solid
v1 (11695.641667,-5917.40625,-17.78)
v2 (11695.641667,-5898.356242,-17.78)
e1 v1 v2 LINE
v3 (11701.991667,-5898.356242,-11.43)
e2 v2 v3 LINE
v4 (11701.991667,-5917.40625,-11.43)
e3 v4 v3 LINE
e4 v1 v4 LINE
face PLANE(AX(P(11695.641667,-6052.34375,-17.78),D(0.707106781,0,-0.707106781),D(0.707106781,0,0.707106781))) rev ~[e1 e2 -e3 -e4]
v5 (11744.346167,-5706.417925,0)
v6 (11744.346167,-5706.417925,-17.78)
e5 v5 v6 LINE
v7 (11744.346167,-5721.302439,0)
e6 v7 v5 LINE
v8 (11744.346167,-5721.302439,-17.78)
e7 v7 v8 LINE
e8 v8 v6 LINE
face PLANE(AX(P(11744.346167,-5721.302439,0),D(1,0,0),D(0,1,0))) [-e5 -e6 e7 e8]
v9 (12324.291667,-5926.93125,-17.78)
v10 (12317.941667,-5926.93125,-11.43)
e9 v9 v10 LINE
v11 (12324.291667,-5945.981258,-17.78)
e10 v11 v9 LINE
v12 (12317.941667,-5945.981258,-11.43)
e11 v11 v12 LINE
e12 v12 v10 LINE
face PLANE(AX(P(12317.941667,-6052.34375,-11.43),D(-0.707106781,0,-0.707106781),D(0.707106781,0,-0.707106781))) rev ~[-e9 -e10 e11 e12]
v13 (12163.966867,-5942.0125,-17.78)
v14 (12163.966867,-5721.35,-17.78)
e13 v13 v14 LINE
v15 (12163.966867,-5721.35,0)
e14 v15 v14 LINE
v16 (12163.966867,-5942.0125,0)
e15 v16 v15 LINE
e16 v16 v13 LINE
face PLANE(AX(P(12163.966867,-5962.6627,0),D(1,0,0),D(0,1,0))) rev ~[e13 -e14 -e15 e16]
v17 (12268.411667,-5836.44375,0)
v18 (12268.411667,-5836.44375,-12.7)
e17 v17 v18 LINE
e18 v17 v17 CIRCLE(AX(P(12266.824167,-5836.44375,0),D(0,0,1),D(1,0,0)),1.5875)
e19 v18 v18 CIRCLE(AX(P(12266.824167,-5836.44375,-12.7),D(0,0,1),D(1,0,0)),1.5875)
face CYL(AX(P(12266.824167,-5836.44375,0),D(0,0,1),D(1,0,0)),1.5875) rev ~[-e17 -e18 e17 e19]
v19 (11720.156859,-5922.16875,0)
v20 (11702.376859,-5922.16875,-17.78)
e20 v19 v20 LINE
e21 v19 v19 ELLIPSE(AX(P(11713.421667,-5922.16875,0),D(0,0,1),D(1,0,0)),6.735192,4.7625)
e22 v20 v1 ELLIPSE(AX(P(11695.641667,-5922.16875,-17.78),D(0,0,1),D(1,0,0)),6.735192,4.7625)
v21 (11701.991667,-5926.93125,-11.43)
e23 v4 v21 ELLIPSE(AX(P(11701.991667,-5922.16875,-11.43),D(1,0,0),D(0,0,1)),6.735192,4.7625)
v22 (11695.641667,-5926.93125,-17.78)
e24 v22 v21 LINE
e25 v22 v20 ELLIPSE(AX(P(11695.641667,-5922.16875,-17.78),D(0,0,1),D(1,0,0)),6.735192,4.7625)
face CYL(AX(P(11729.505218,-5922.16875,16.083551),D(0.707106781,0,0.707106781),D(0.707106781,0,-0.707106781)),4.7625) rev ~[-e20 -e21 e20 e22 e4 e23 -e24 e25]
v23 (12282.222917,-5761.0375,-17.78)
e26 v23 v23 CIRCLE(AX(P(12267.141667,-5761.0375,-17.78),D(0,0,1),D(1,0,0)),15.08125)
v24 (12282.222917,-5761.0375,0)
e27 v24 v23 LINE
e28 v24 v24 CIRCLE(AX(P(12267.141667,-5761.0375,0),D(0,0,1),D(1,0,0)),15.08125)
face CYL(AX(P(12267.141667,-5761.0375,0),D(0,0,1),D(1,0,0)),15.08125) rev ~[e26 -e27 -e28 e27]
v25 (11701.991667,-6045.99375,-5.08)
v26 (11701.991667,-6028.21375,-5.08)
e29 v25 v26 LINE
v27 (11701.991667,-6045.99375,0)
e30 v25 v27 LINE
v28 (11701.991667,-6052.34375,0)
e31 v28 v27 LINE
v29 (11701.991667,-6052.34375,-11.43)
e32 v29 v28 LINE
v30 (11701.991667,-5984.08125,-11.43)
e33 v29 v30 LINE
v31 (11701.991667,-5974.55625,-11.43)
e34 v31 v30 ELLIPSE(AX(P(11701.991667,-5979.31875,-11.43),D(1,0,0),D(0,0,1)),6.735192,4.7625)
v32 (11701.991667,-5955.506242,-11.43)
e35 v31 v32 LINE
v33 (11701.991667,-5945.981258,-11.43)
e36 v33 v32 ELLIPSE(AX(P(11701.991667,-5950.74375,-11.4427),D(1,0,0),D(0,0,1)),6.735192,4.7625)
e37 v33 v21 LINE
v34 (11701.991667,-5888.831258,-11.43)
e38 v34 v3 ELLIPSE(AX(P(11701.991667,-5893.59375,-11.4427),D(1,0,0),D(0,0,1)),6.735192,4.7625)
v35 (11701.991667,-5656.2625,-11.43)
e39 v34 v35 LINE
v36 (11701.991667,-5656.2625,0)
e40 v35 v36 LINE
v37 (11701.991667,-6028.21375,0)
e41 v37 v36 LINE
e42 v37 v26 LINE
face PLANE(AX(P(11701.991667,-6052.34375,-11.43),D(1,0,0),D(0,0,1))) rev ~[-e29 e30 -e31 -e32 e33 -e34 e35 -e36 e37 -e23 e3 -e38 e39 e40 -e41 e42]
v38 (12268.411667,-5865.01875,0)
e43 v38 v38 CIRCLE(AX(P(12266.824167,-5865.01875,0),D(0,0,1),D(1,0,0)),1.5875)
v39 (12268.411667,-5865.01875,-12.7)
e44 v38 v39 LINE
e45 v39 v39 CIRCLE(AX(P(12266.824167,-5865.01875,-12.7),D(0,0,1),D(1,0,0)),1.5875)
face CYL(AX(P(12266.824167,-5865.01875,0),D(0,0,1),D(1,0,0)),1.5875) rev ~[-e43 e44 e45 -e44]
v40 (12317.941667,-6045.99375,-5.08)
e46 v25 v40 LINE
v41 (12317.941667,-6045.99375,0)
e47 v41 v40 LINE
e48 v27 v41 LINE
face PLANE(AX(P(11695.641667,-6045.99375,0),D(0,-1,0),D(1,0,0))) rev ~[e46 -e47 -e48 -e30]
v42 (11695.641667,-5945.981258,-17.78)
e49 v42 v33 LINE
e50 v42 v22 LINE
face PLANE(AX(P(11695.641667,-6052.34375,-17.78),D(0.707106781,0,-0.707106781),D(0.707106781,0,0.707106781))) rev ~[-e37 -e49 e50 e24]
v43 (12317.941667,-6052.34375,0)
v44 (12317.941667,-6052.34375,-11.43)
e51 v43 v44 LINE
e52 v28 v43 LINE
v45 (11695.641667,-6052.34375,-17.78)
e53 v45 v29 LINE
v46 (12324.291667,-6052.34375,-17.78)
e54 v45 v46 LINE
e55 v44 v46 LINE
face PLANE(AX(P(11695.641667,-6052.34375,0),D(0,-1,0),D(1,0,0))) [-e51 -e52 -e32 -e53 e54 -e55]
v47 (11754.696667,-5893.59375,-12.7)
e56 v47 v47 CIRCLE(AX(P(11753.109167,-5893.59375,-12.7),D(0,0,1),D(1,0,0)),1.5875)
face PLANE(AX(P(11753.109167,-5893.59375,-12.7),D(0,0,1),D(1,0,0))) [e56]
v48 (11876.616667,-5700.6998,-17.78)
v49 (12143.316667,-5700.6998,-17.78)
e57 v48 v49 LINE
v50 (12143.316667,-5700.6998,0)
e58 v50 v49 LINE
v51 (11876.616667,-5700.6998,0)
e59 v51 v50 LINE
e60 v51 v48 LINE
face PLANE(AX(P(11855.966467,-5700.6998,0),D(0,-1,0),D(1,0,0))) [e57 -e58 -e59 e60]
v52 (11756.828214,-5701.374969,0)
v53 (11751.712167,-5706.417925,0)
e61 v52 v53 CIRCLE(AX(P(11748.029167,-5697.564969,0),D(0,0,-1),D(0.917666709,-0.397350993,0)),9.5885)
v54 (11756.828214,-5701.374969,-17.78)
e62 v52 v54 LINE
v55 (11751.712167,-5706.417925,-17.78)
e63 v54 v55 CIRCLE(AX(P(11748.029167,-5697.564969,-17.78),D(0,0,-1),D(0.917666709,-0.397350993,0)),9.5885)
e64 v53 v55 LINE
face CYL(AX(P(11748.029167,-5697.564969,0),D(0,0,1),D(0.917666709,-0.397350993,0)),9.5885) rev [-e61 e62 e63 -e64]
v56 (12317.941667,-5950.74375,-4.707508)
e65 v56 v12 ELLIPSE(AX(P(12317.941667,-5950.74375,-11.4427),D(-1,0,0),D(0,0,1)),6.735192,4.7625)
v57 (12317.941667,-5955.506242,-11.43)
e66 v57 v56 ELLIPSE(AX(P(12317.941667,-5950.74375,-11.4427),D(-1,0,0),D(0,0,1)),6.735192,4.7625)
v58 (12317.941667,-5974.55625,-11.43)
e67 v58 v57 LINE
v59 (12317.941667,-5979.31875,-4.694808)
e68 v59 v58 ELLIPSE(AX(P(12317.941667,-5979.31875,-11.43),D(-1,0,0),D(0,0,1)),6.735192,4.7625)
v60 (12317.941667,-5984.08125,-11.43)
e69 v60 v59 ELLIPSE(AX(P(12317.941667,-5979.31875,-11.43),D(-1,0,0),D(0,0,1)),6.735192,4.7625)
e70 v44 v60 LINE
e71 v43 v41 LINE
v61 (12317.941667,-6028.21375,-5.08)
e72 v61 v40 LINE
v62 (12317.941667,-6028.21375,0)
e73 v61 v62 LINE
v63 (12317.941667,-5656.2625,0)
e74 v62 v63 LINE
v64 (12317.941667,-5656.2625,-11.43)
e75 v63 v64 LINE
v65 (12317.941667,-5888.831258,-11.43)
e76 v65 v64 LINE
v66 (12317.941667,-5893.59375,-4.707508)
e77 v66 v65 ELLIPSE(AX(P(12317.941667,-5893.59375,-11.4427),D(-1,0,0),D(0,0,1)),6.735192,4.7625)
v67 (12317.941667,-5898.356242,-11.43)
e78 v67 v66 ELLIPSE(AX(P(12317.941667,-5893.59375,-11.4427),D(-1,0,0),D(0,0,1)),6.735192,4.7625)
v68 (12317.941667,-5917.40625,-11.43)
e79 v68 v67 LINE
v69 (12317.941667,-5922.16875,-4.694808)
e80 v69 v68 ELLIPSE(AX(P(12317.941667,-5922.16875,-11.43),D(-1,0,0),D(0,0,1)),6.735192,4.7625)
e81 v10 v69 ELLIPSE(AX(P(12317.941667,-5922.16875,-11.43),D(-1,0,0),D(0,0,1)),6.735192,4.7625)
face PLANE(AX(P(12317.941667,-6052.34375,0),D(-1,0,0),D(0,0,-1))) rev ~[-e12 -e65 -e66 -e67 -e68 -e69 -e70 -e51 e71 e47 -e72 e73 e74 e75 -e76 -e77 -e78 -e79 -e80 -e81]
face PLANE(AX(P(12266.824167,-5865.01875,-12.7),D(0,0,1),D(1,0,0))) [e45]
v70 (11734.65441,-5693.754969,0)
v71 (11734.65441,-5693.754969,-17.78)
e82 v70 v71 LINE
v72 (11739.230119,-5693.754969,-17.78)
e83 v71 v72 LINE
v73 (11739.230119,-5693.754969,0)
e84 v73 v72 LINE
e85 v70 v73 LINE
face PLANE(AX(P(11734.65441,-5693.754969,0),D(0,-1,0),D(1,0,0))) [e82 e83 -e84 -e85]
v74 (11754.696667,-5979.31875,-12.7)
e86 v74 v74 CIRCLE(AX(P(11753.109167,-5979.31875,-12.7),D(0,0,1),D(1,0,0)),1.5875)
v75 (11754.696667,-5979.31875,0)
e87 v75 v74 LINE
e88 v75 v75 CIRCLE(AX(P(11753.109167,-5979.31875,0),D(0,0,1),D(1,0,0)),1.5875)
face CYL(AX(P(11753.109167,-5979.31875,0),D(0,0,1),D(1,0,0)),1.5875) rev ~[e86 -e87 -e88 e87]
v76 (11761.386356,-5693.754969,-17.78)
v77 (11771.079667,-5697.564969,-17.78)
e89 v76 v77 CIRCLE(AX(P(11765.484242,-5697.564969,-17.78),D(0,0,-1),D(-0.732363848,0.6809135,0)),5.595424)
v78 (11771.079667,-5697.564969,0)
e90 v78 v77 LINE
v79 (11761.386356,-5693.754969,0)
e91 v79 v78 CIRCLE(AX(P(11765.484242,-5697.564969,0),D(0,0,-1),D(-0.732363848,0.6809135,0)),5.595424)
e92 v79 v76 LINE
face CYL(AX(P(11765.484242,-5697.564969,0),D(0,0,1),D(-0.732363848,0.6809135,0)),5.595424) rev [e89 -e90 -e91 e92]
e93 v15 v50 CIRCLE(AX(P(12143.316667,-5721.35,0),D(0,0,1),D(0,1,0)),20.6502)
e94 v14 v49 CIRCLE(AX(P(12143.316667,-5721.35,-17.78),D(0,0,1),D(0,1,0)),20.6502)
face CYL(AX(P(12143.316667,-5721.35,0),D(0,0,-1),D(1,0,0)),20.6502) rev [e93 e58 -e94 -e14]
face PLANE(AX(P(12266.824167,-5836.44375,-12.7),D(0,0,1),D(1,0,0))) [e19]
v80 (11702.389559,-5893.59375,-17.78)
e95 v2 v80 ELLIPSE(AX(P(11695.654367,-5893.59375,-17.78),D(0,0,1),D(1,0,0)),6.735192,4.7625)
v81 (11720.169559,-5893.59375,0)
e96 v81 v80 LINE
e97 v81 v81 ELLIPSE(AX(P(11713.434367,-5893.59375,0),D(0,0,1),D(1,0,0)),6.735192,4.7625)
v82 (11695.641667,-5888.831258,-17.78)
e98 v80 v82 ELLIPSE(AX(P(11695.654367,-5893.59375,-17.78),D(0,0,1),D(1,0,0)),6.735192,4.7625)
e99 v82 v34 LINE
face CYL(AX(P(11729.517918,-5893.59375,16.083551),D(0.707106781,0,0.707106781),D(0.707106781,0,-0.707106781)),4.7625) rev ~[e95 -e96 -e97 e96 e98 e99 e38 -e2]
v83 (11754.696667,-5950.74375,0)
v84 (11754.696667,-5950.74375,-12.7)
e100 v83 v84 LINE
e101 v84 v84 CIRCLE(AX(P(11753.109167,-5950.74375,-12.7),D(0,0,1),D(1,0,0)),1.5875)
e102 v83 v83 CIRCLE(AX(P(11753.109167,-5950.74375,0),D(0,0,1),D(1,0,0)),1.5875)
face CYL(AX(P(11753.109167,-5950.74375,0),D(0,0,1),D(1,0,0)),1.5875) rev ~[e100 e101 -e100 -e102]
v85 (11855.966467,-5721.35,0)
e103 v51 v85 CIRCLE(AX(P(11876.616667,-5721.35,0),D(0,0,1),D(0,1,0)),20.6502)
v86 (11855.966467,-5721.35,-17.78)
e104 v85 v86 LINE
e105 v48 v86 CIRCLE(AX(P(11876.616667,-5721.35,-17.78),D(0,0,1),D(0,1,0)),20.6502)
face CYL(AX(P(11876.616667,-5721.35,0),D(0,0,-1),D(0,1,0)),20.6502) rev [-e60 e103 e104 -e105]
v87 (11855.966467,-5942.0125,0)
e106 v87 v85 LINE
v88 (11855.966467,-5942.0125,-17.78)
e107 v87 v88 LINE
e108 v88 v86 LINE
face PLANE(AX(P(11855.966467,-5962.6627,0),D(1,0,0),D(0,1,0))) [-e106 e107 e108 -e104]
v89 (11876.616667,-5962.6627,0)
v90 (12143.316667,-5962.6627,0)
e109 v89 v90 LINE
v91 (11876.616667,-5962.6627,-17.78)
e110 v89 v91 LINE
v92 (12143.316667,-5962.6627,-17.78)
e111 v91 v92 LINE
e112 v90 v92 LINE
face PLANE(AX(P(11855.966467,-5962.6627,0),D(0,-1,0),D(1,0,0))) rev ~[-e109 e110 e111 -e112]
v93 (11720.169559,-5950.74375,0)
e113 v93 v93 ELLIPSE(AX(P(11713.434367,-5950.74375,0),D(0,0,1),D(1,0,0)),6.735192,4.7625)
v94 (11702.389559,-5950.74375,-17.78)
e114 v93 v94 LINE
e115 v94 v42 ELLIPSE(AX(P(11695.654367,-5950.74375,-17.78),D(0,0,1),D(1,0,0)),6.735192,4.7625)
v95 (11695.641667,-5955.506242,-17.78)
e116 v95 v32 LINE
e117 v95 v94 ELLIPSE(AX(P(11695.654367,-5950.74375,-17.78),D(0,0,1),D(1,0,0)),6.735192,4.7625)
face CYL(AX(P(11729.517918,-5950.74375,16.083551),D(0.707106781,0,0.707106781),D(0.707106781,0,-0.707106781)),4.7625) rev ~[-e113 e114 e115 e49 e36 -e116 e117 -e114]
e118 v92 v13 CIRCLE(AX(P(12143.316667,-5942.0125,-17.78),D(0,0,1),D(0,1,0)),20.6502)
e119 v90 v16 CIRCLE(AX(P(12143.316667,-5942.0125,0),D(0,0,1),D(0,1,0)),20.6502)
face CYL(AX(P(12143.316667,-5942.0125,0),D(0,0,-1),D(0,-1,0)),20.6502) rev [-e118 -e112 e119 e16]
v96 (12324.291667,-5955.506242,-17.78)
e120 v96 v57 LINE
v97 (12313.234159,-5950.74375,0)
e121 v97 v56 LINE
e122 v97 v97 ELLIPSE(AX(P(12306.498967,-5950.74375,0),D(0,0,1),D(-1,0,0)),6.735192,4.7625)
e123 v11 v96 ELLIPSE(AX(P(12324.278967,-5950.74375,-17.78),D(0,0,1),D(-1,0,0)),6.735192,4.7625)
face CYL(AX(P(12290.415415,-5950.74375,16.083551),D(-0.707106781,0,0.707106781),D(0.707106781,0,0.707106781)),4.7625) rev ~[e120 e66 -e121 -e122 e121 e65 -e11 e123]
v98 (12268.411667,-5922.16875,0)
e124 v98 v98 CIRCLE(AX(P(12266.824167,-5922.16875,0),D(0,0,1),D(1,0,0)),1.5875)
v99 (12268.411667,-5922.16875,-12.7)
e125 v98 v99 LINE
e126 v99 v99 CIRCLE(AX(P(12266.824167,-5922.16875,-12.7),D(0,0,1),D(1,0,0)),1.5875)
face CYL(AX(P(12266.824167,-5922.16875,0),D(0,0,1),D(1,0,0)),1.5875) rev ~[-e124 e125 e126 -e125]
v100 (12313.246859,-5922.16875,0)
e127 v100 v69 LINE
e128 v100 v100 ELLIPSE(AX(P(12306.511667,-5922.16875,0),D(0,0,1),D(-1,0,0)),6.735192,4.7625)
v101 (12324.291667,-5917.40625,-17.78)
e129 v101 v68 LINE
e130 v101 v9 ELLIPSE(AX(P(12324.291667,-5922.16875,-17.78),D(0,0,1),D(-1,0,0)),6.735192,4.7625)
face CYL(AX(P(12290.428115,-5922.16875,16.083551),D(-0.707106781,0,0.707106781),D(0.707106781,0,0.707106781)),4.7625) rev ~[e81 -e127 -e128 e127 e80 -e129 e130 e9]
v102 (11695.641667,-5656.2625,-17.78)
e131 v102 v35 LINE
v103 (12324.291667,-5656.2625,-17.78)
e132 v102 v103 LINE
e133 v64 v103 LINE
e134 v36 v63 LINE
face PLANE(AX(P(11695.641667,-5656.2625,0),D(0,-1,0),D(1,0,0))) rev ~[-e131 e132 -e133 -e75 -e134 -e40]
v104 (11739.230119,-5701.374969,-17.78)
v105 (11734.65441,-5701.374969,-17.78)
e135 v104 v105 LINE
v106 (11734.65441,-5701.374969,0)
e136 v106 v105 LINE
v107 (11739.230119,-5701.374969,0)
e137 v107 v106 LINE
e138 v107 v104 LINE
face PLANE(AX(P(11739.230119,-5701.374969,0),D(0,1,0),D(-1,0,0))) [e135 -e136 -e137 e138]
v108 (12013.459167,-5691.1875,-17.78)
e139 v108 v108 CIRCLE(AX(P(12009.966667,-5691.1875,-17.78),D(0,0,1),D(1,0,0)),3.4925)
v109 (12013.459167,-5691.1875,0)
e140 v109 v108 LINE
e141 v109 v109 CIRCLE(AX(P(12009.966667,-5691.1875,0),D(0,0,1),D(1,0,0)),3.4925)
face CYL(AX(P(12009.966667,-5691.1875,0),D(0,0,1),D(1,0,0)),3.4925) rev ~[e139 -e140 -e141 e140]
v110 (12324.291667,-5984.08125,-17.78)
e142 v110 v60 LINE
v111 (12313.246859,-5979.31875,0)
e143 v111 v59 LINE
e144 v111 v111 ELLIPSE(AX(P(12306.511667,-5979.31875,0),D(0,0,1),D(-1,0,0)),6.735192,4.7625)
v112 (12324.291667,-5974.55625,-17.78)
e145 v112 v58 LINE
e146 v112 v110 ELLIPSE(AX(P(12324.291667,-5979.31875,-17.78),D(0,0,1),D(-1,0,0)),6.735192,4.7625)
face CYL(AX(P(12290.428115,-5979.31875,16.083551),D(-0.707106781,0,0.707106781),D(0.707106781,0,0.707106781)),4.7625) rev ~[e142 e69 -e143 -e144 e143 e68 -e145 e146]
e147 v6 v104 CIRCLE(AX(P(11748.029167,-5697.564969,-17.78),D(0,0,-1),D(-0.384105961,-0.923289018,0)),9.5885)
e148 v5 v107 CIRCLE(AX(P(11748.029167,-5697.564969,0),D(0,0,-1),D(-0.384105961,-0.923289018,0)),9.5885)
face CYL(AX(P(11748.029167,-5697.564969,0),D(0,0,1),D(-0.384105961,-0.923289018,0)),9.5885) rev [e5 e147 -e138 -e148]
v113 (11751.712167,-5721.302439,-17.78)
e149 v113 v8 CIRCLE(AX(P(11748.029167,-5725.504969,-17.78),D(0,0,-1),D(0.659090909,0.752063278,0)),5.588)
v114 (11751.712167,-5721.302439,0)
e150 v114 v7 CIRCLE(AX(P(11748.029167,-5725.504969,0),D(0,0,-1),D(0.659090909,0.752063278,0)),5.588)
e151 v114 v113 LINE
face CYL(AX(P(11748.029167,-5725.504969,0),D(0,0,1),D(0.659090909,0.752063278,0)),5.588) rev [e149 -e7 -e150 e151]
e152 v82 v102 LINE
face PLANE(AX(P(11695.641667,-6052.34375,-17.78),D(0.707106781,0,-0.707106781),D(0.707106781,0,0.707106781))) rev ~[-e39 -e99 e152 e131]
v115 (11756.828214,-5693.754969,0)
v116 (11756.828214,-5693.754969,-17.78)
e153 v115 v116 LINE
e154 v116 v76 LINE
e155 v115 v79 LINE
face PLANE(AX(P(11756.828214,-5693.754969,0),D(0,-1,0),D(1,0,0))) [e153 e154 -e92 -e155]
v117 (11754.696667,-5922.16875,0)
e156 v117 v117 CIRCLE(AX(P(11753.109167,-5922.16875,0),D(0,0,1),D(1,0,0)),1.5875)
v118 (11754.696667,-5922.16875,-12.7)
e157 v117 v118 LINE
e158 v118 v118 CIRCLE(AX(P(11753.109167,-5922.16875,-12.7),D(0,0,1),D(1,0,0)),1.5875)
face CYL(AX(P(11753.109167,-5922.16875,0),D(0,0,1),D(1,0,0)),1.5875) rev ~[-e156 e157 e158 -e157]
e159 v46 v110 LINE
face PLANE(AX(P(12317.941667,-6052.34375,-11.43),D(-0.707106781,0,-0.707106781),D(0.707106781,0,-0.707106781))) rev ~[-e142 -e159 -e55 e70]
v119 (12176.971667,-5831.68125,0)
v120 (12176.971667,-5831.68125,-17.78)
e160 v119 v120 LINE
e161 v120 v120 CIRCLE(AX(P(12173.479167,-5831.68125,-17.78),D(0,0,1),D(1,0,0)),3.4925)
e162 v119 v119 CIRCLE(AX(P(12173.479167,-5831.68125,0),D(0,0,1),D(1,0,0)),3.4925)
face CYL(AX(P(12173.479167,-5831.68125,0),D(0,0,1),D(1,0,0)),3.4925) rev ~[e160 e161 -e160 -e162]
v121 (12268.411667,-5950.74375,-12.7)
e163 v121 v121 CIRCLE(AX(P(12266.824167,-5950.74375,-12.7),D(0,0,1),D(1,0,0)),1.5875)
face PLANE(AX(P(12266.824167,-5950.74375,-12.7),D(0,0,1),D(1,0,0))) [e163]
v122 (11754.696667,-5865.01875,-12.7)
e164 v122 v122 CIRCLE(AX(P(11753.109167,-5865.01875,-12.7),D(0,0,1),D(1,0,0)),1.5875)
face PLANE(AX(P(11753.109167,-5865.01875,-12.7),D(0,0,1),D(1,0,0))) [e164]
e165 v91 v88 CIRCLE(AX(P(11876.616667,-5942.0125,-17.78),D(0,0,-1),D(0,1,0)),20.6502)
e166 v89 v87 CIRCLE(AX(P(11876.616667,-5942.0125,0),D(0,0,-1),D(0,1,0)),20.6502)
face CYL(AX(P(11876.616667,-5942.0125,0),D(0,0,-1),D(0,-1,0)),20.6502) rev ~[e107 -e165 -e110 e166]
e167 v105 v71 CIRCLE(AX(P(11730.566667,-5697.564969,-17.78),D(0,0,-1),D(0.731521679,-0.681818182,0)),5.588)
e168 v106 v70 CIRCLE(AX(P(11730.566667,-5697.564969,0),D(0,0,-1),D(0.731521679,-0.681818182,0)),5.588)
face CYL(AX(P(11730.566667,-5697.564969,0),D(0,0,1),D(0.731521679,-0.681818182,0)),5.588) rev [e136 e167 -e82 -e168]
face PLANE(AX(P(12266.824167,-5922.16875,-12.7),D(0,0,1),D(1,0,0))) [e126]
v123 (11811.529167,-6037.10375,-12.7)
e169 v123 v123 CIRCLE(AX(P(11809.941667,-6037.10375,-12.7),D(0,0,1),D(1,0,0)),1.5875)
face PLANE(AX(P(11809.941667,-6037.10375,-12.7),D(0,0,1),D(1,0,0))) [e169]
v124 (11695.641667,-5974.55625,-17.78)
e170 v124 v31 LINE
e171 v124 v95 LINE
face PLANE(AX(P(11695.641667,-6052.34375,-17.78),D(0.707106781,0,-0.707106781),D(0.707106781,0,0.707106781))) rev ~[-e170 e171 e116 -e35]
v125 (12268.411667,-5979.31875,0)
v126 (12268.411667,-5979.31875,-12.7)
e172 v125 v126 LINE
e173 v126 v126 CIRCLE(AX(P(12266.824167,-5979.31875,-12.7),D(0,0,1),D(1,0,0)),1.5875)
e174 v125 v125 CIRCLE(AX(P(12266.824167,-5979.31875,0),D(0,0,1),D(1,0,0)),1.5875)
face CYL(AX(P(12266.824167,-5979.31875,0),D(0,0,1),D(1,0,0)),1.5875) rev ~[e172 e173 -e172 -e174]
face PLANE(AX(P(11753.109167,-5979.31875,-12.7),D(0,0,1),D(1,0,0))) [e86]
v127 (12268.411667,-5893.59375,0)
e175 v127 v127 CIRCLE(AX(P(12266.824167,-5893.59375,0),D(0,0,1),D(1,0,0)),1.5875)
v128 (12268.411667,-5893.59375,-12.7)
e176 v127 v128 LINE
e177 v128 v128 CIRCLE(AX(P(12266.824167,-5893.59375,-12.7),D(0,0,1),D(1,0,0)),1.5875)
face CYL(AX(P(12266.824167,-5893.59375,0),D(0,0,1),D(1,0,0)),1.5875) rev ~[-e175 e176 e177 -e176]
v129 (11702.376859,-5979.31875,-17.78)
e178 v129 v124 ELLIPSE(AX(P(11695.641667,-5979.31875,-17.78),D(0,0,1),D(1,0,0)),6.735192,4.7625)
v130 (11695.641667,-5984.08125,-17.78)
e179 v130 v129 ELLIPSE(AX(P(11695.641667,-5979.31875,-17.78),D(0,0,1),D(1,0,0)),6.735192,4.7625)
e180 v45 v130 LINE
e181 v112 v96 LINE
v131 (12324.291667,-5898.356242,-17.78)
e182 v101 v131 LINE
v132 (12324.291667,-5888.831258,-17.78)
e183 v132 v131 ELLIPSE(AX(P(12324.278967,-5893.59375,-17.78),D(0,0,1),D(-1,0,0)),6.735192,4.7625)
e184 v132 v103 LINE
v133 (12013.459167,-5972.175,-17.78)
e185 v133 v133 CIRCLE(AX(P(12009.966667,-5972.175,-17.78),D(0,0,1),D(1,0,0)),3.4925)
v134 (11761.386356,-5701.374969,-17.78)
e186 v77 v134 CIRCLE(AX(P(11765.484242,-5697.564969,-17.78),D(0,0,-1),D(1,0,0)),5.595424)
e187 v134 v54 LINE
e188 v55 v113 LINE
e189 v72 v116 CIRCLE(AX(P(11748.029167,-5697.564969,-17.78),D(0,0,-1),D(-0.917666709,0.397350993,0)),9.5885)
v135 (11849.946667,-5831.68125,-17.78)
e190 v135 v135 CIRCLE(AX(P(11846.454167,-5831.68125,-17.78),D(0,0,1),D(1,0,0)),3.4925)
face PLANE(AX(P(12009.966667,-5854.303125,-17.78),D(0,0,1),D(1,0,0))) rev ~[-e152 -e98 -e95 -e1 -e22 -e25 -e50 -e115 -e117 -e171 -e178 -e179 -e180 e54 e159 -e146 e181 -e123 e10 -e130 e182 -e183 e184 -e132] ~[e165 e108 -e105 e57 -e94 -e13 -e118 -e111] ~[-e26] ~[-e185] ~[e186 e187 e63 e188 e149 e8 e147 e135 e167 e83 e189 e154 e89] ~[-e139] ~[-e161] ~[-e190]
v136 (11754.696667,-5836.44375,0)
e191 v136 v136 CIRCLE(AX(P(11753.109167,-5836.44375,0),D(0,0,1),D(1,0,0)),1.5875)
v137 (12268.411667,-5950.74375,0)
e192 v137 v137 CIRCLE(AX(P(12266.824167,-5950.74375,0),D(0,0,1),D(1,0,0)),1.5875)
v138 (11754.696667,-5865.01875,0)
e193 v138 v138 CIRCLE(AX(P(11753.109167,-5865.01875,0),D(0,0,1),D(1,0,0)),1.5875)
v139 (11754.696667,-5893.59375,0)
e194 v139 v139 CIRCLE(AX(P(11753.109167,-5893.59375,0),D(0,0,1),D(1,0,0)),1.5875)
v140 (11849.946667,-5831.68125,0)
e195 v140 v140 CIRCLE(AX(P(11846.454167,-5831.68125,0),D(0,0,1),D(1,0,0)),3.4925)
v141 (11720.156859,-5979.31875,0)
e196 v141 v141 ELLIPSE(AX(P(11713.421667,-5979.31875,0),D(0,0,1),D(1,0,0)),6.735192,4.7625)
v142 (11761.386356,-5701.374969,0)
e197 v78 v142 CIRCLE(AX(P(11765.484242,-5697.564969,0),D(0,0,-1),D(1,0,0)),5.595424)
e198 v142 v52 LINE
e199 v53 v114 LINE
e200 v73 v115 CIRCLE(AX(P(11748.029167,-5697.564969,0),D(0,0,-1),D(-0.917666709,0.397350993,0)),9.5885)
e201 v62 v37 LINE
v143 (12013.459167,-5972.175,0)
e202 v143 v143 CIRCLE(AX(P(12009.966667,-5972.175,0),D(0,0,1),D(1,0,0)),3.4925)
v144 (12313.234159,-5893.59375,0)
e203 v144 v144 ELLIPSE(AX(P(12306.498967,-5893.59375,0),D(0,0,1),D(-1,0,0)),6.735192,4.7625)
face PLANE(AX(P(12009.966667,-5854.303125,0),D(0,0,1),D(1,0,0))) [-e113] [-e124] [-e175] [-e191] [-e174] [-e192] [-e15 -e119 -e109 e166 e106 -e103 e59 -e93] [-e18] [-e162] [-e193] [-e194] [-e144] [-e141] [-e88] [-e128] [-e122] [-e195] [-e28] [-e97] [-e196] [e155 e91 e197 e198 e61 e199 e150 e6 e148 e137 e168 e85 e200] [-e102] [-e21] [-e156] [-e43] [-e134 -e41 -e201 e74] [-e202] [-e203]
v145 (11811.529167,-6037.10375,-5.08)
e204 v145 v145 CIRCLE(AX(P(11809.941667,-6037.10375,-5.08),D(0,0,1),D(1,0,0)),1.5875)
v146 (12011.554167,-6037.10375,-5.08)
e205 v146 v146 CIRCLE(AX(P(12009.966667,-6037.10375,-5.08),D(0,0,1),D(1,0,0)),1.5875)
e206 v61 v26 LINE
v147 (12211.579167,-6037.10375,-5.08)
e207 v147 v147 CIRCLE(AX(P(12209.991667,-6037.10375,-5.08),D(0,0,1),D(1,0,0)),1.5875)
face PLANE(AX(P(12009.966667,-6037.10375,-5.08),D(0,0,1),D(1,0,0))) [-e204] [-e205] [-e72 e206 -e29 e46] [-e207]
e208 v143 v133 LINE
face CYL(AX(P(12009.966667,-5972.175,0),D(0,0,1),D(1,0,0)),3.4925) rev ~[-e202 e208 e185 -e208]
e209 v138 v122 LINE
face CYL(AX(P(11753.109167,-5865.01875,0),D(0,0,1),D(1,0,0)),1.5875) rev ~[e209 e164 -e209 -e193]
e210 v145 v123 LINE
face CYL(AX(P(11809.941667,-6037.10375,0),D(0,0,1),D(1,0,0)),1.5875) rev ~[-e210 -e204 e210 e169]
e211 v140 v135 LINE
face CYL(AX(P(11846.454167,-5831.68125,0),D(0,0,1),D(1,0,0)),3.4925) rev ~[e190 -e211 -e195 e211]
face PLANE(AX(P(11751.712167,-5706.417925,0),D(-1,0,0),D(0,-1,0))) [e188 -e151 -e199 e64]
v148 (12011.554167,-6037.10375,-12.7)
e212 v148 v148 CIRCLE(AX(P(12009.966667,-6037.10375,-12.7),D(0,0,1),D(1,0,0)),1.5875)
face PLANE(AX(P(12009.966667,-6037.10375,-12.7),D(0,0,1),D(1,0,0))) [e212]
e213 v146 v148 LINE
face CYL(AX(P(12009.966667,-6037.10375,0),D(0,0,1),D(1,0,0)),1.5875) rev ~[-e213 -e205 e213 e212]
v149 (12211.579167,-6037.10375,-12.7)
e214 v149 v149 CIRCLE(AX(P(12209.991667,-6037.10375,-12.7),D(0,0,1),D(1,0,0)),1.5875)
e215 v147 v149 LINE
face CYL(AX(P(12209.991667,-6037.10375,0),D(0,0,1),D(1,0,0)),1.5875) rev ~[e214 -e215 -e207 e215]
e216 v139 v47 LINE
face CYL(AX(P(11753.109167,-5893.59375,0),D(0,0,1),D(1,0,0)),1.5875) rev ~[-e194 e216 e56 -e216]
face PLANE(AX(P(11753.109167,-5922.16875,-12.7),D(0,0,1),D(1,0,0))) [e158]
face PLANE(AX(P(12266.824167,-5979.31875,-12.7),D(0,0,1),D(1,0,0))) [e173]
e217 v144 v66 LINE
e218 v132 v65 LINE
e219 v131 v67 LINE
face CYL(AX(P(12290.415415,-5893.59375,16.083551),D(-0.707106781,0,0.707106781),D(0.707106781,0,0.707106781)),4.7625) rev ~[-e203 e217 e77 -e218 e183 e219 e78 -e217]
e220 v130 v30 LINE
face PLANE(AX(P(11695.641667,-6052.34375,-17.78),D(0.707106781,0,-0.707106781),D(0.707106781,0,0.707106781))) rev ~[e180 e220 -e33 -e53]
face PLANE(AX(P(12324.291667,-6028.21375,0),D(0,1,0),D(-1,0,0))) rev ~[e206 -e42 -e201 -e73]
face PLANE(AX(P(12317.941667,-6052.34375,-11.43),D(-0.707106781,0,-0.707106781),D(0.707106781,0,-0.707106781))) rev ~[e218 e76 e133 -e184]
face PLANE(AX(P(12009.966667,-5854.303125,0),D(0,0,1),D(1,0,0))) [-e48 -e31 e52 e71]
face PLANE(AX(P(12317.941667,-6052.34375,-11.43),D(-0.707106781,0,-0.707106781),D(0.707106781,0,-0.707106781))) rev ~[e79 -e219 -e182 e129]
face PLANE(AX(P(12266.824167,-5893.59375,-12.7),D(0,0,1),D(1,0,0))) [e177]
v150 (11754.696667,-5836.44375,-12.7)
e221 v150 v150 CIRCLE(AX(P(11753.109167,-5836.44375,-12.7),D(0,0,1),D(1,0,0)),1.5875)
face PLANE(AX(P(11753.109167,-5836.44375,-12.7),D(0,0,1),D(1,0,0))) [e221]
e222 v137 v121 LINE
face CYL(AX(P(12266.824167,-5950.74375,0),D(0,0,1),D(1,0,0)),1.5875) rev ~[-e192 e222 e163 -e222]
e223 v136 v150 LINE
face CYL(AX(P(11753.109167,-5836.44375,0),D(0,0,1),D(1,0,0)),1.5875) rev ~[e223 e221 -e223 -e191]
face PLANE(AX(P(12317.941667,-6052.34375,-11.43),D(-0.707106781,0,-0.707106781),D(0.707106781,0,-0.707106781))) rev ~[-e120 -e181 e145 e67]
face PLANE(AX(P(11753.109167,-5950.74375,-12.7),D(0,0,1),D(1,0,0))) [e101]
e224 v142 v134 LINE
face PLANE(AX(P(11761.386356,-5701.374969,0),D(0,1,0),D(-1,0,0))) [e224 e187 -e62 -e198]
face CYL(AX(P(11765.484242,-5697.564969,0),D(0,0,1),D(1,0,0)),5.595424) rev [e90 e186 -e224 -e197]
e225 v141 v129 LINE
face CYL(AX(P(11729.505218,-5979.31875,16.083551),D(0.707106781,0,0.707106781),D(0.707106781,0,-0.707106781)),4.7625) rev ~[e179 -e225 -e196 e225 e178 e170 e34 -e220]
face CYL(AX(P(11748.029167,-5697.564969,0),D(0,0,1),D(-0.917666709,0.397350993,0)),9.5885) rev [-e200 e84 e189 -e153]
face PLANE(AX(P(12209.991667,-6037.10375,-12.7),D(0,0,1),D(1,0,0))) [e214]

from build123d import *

# Parameters (mm, degrees)
CABFRONTOUTLINE_W               = 628.65
CABFRONTOUTLINE_H               = 396.08125
CABFRONT_THICKNESS_DEPTH        = 17.78
CABFRONT_COINDOORCUTS_R         = 1.5875
CUT_EXTRUDE1_DEPTH              = 12.7
SKETCH5_R                       = 15.08125
SKETCH5_R_2                     = 3.4925
SKETCH5_W                       = 308.0004
SKETCH5_H                       = 261.9629
CUT_EXTRUDE8_DEPTH              = 17.78
CABFRONTBOTTOMLEDGE_DEPTH_DEPTH = 5.08
CUT_EXTRUDE4_DEPTH              = 396.08125
FILLET1_R                       = 20.6502
SKETCH2_R                       = 4.7625
CUT_EXTRUDE5_DEPTH              = 76.2
SKETCH3_R                       = 4.7625
CUT_EXTRUDE6_DEPTH              = 76.2
SKETCH4_R                       = 4.7625
CUT_EXTRUDE7_DEPTH              = 76.2
SKETCH6_R                       = 4.7625
CUT_EXTRUDE9_DEPTH              = 76.2


with BuildPart() as part:
    # CabFrontOutline → CabFront_Thickness (new body)
    with BuildSketch(Plane.XY):
        with Locations((12009.966666666, -5854.303125)):
            Rectangle(CABFRONTOUTLINE_W, CABFRONTOUTLINE_H)
    extrude(amount=-CABFRONT_THICKNESS_DEPTH)

    # CabFront_CoinDoorCuts → Cut-Extrude1 (cut)
    with BuildSketch(Plane.XY):
        with Locations((11753.109166666, -5893.59375)):
            Circle(CABFRONT_COINDOORCUTS_R)
        with Locations((11753.109166666, -5950.74375)):
            Circle(CABFRONT_COINDOORCUTS_R)
        with Locations((12266.824166666, -5893.59375)):
            Circle(CABFRONT_COINDOORCUTS_R)
        with Locations((12266.824166666, -5950.74375)):
            Circle(CABFRONT_COINDOORCUTS_R)
        with Locations((11753.109166666, -5836.44375)):
            Circle(CABFRONT_COINDOORCUTS_R)
        with Locations((12266.824166666, -5836.44375)):
            Circle(CABFRONT_COINDOORCUTS_R)
        with Locations((12266.824166666, -5865.01875)):
            Circle(CABFRONT_COINDOORCUTS_R)
        with Locations((12266.824166666, -5922.16875)):
            Circle(CABFRONT_COINDOORCUTS_R)
        with Locations((12266.824166666, -5979.31875)):
            Circle(CABFRONT_COINDOORCUTS_R)
        with Locations((12209.991666666, -6037.10375)):
            Circle(CABFRONT_COINDOORCUTS_R)
        with Locations((12009.966666666, -6037.10375)):
            Circle(CABFRONT_COINDOORCUTS_R)
        with Locations((11809.941666666, -6037.10375)):
            Circle(CABFRONT_COINDOORCUTS_R)
        with Locations((11753.109166666, -5979.31875)):
            Circle(CABFRONT_COINDOORCUTS_R)
        with Locations((11753.109166666, -5922.16875)):
            Circle(CABFRONT_COINDOORCUTS_R)
        with Locations((11753.109166666, -5865.01875)):
            Circle(CABFRONT_COINDOORCUTS_R)
    extrude(amount=-CUT_EXTRUDE1_DEPTH, mode=Mode.SUBTRACT)

    # Sketch5 → Cut-Extrude8 (cut)
    with BuildSketch(Plane.XY):
        with Locations((12267.141666666, -5761.0375)):
            Circle(SKETCH5_R)
        with Locations((12173.479166666, -5831.68125)):
            Circle(SKETCH5_R_2)
        with Locations((11846.454166666, -5831.68125)):
            Circle(SKETCH5_R_2)
        with Locations((12009.966666666, -5972.175)):
            Circle(SKETCH5_R_2)
        with Locations((12009.966666666, -5691.1875)):
            Circle(SKETCH5_R_2)
        with Locations((12009.966666666, -5831.68125)):
            Rectangle(SKETCH5_W, SKETCH5_H)
        with BuildLine():
            Line((11734.654409808, -5693.754968556), (11739.23011943, -5693.754968556))
            ThreePointArc((11739.23011943, -5693.754968556), (11748.029166666, -5687.976468556), (11756.828213901, -5693.754968556))
            Line((11756.828213901, -5693.754968556), (11761.386355753, -5693.754968556))
            ThreePointArc((11761.386355753, -5693.754968556), (11767.531113043, -5692.357368906), (11771.079666666, -5697.564968556))
            ThreePointArc((11771.079666666, -5697.564968556), (11767.531113043, -5702.772568206), (11761.386355753, -5701.374968556))
            Line((11761.386355753, -5701.374968556), (11756.828213901, -5701.374968556))
            ThreePointArc((11756.828213901, -5701.374968556), (11754.760305425, -5704.393665595), (11751.712166666, -5706.417925308))
            Line((11751.712166666, -5706.417925308), (11751.712166666, -5721.30243896))
            ThreePointArc((11751.712166666, -5721.30243896), (11748.029166666, -5731.092968556), (11744.346166666, -5721.30243896))
            Line((11744.346166666, -5721.30243896), (11744.346166666, -5706.417925308))
            ThreePointArc((11744.346166666, -5706.417925308), (11741.298027907, -5704.393665595), (11739.23011943, -5701.374968556))
            Line((11739.23011943, -5701.374968556), (11734.654409809, -5701.374968556))
            ThreePointArc((11734.654409809, -5701.374968556), (11724.978666666, -5697.564968556), (11734.654409808, -5693.754968556))
        make_face()
    extrude(amount=-CUT_EXTRUDE8_DEPTH, mode=Mode.SUBTRACT)

    # CabFront_BottomLedge → CabFrontBottomLedge_Depth (cut)
    with BuildSketch(Plane.XY):
        Polygon((11975.041666666, -6028.21375), (11695.641666666, -6028.21375), (11695.641666666, -6045.99375), (12324.291666666, -6045.99375), (12324.291666666, -6028.21375), align=None)
    extrude(amount=-CABFRONTBOTTOMLEDGE_DEPTH_DEPTH, mode=Mode.SUBTRACT)

    # CabFront_EdgeBevel → Cut-Extrude4 (cut)
    with BuildSketch(Plane.XZ.offset(6052.34375)):
        Polygon((11701.991666666, -11.43), (11701.991666666, 0), (11695.641666666, 0), (11695.641666666, -17.78), align=None)
        Polygon((12317.941666666, -11.43), (12324.291666666, -17.78), (12324.291666666, 0), (12317.941666666, 0), align=None)
    extrude(amount=-CUT_EXTRUDE4_DEPTH, mode=Mode.SUBTRACT)

    # Fillet1
    fillet1_edges = [part.edges().sort_by_distance(p)[0] for p in [
        (11855.966466666, -5962.6627, -8.89),
        (11855.966466666, -5700.6998, -8.89),
        (12163.966866666, -5700.6998, -8.89),
        (12163.966866666, -5962.6627, -8.89),
    ]]
    fillet(fillet1_edges, radius=FILLET1_R)

    # Sketch2 → Cut-Extrude5 (cut)
    with BuildSketch(Plane(origin=(5872.794384557, 0, 5872.794384557), x_dir=(0.707106781, 0, -0.707106781), z_dir=(0.707106781, 0, 0.707106781))):
        with Locations((8282.639891397, -5922.16875)):
            Circle(SKETCH2_R)
        with Locations((8282.639891397, -5979.31875)):
            Circle(SKETCH2_R)
    extrude(amount=-CUT_EXTRUDE5_DEPTH, mode=Mode.SUBTRACT)

    # Sketch3 → Cut-Extrude6 (cut)
    with BuildSketch(Plane(origin=(6137.172282109, 0, -6137.172282109), x_dir=(0.707106781, 0, 0.707106781), z_dir=(-0.707106781, 0, 0.707106781))):
        with Locations((8702.017852251, -5922.16875)):
            Circle(SKETCH3_R)
        with Locations((8702.017852251, -5979.31875)):
            Circle(SKETCH3_R)
    extrude(amount=-CUT_EXTRUDE6_DEPTH, mode=Mode.SUBTRACT)

    # Sketch4 → Cut-Extrude7 (cut)
    with BuildSketch(Plane(origin=(6137.165932109, 0, -6137.165932109), x_dir=(0.707106781, 0, 0.707106781), z_dir=(-0.707106781, 0, 0.707106781))):
        with Locations((8702.008871995, -5950.74375)):
            Circle(SKETCH4_R)
        with Locations((8702.008871995, -5893.59375)):
            Circle(SKETCH4_R)
    extrude(amount=-CUT_EXTRUDE7_DEPTH, mode=Mode.SUBTRACT)

    # Sketch6 → Cut-Extrude9 (cut)
    with BuildSketch(Plane(origin=(5872.800734557, 0, 5872.800734557), x_dir=(0.707106781, 0, -0.707106781), z_dir=(0.707106781, 0, 0.707106781))):
        with Locations((8282.648871653, -5893.59375)):
            Circle(SKETCH6_R)
        with Locations((8282.648871653, -5950.74375)):
            Circle(SKETCH6_R)
    extrude(amount=-CUT_EXTRUDE9_DEPTH, mode=Mode.SUBTRACT)


solid = part.part
